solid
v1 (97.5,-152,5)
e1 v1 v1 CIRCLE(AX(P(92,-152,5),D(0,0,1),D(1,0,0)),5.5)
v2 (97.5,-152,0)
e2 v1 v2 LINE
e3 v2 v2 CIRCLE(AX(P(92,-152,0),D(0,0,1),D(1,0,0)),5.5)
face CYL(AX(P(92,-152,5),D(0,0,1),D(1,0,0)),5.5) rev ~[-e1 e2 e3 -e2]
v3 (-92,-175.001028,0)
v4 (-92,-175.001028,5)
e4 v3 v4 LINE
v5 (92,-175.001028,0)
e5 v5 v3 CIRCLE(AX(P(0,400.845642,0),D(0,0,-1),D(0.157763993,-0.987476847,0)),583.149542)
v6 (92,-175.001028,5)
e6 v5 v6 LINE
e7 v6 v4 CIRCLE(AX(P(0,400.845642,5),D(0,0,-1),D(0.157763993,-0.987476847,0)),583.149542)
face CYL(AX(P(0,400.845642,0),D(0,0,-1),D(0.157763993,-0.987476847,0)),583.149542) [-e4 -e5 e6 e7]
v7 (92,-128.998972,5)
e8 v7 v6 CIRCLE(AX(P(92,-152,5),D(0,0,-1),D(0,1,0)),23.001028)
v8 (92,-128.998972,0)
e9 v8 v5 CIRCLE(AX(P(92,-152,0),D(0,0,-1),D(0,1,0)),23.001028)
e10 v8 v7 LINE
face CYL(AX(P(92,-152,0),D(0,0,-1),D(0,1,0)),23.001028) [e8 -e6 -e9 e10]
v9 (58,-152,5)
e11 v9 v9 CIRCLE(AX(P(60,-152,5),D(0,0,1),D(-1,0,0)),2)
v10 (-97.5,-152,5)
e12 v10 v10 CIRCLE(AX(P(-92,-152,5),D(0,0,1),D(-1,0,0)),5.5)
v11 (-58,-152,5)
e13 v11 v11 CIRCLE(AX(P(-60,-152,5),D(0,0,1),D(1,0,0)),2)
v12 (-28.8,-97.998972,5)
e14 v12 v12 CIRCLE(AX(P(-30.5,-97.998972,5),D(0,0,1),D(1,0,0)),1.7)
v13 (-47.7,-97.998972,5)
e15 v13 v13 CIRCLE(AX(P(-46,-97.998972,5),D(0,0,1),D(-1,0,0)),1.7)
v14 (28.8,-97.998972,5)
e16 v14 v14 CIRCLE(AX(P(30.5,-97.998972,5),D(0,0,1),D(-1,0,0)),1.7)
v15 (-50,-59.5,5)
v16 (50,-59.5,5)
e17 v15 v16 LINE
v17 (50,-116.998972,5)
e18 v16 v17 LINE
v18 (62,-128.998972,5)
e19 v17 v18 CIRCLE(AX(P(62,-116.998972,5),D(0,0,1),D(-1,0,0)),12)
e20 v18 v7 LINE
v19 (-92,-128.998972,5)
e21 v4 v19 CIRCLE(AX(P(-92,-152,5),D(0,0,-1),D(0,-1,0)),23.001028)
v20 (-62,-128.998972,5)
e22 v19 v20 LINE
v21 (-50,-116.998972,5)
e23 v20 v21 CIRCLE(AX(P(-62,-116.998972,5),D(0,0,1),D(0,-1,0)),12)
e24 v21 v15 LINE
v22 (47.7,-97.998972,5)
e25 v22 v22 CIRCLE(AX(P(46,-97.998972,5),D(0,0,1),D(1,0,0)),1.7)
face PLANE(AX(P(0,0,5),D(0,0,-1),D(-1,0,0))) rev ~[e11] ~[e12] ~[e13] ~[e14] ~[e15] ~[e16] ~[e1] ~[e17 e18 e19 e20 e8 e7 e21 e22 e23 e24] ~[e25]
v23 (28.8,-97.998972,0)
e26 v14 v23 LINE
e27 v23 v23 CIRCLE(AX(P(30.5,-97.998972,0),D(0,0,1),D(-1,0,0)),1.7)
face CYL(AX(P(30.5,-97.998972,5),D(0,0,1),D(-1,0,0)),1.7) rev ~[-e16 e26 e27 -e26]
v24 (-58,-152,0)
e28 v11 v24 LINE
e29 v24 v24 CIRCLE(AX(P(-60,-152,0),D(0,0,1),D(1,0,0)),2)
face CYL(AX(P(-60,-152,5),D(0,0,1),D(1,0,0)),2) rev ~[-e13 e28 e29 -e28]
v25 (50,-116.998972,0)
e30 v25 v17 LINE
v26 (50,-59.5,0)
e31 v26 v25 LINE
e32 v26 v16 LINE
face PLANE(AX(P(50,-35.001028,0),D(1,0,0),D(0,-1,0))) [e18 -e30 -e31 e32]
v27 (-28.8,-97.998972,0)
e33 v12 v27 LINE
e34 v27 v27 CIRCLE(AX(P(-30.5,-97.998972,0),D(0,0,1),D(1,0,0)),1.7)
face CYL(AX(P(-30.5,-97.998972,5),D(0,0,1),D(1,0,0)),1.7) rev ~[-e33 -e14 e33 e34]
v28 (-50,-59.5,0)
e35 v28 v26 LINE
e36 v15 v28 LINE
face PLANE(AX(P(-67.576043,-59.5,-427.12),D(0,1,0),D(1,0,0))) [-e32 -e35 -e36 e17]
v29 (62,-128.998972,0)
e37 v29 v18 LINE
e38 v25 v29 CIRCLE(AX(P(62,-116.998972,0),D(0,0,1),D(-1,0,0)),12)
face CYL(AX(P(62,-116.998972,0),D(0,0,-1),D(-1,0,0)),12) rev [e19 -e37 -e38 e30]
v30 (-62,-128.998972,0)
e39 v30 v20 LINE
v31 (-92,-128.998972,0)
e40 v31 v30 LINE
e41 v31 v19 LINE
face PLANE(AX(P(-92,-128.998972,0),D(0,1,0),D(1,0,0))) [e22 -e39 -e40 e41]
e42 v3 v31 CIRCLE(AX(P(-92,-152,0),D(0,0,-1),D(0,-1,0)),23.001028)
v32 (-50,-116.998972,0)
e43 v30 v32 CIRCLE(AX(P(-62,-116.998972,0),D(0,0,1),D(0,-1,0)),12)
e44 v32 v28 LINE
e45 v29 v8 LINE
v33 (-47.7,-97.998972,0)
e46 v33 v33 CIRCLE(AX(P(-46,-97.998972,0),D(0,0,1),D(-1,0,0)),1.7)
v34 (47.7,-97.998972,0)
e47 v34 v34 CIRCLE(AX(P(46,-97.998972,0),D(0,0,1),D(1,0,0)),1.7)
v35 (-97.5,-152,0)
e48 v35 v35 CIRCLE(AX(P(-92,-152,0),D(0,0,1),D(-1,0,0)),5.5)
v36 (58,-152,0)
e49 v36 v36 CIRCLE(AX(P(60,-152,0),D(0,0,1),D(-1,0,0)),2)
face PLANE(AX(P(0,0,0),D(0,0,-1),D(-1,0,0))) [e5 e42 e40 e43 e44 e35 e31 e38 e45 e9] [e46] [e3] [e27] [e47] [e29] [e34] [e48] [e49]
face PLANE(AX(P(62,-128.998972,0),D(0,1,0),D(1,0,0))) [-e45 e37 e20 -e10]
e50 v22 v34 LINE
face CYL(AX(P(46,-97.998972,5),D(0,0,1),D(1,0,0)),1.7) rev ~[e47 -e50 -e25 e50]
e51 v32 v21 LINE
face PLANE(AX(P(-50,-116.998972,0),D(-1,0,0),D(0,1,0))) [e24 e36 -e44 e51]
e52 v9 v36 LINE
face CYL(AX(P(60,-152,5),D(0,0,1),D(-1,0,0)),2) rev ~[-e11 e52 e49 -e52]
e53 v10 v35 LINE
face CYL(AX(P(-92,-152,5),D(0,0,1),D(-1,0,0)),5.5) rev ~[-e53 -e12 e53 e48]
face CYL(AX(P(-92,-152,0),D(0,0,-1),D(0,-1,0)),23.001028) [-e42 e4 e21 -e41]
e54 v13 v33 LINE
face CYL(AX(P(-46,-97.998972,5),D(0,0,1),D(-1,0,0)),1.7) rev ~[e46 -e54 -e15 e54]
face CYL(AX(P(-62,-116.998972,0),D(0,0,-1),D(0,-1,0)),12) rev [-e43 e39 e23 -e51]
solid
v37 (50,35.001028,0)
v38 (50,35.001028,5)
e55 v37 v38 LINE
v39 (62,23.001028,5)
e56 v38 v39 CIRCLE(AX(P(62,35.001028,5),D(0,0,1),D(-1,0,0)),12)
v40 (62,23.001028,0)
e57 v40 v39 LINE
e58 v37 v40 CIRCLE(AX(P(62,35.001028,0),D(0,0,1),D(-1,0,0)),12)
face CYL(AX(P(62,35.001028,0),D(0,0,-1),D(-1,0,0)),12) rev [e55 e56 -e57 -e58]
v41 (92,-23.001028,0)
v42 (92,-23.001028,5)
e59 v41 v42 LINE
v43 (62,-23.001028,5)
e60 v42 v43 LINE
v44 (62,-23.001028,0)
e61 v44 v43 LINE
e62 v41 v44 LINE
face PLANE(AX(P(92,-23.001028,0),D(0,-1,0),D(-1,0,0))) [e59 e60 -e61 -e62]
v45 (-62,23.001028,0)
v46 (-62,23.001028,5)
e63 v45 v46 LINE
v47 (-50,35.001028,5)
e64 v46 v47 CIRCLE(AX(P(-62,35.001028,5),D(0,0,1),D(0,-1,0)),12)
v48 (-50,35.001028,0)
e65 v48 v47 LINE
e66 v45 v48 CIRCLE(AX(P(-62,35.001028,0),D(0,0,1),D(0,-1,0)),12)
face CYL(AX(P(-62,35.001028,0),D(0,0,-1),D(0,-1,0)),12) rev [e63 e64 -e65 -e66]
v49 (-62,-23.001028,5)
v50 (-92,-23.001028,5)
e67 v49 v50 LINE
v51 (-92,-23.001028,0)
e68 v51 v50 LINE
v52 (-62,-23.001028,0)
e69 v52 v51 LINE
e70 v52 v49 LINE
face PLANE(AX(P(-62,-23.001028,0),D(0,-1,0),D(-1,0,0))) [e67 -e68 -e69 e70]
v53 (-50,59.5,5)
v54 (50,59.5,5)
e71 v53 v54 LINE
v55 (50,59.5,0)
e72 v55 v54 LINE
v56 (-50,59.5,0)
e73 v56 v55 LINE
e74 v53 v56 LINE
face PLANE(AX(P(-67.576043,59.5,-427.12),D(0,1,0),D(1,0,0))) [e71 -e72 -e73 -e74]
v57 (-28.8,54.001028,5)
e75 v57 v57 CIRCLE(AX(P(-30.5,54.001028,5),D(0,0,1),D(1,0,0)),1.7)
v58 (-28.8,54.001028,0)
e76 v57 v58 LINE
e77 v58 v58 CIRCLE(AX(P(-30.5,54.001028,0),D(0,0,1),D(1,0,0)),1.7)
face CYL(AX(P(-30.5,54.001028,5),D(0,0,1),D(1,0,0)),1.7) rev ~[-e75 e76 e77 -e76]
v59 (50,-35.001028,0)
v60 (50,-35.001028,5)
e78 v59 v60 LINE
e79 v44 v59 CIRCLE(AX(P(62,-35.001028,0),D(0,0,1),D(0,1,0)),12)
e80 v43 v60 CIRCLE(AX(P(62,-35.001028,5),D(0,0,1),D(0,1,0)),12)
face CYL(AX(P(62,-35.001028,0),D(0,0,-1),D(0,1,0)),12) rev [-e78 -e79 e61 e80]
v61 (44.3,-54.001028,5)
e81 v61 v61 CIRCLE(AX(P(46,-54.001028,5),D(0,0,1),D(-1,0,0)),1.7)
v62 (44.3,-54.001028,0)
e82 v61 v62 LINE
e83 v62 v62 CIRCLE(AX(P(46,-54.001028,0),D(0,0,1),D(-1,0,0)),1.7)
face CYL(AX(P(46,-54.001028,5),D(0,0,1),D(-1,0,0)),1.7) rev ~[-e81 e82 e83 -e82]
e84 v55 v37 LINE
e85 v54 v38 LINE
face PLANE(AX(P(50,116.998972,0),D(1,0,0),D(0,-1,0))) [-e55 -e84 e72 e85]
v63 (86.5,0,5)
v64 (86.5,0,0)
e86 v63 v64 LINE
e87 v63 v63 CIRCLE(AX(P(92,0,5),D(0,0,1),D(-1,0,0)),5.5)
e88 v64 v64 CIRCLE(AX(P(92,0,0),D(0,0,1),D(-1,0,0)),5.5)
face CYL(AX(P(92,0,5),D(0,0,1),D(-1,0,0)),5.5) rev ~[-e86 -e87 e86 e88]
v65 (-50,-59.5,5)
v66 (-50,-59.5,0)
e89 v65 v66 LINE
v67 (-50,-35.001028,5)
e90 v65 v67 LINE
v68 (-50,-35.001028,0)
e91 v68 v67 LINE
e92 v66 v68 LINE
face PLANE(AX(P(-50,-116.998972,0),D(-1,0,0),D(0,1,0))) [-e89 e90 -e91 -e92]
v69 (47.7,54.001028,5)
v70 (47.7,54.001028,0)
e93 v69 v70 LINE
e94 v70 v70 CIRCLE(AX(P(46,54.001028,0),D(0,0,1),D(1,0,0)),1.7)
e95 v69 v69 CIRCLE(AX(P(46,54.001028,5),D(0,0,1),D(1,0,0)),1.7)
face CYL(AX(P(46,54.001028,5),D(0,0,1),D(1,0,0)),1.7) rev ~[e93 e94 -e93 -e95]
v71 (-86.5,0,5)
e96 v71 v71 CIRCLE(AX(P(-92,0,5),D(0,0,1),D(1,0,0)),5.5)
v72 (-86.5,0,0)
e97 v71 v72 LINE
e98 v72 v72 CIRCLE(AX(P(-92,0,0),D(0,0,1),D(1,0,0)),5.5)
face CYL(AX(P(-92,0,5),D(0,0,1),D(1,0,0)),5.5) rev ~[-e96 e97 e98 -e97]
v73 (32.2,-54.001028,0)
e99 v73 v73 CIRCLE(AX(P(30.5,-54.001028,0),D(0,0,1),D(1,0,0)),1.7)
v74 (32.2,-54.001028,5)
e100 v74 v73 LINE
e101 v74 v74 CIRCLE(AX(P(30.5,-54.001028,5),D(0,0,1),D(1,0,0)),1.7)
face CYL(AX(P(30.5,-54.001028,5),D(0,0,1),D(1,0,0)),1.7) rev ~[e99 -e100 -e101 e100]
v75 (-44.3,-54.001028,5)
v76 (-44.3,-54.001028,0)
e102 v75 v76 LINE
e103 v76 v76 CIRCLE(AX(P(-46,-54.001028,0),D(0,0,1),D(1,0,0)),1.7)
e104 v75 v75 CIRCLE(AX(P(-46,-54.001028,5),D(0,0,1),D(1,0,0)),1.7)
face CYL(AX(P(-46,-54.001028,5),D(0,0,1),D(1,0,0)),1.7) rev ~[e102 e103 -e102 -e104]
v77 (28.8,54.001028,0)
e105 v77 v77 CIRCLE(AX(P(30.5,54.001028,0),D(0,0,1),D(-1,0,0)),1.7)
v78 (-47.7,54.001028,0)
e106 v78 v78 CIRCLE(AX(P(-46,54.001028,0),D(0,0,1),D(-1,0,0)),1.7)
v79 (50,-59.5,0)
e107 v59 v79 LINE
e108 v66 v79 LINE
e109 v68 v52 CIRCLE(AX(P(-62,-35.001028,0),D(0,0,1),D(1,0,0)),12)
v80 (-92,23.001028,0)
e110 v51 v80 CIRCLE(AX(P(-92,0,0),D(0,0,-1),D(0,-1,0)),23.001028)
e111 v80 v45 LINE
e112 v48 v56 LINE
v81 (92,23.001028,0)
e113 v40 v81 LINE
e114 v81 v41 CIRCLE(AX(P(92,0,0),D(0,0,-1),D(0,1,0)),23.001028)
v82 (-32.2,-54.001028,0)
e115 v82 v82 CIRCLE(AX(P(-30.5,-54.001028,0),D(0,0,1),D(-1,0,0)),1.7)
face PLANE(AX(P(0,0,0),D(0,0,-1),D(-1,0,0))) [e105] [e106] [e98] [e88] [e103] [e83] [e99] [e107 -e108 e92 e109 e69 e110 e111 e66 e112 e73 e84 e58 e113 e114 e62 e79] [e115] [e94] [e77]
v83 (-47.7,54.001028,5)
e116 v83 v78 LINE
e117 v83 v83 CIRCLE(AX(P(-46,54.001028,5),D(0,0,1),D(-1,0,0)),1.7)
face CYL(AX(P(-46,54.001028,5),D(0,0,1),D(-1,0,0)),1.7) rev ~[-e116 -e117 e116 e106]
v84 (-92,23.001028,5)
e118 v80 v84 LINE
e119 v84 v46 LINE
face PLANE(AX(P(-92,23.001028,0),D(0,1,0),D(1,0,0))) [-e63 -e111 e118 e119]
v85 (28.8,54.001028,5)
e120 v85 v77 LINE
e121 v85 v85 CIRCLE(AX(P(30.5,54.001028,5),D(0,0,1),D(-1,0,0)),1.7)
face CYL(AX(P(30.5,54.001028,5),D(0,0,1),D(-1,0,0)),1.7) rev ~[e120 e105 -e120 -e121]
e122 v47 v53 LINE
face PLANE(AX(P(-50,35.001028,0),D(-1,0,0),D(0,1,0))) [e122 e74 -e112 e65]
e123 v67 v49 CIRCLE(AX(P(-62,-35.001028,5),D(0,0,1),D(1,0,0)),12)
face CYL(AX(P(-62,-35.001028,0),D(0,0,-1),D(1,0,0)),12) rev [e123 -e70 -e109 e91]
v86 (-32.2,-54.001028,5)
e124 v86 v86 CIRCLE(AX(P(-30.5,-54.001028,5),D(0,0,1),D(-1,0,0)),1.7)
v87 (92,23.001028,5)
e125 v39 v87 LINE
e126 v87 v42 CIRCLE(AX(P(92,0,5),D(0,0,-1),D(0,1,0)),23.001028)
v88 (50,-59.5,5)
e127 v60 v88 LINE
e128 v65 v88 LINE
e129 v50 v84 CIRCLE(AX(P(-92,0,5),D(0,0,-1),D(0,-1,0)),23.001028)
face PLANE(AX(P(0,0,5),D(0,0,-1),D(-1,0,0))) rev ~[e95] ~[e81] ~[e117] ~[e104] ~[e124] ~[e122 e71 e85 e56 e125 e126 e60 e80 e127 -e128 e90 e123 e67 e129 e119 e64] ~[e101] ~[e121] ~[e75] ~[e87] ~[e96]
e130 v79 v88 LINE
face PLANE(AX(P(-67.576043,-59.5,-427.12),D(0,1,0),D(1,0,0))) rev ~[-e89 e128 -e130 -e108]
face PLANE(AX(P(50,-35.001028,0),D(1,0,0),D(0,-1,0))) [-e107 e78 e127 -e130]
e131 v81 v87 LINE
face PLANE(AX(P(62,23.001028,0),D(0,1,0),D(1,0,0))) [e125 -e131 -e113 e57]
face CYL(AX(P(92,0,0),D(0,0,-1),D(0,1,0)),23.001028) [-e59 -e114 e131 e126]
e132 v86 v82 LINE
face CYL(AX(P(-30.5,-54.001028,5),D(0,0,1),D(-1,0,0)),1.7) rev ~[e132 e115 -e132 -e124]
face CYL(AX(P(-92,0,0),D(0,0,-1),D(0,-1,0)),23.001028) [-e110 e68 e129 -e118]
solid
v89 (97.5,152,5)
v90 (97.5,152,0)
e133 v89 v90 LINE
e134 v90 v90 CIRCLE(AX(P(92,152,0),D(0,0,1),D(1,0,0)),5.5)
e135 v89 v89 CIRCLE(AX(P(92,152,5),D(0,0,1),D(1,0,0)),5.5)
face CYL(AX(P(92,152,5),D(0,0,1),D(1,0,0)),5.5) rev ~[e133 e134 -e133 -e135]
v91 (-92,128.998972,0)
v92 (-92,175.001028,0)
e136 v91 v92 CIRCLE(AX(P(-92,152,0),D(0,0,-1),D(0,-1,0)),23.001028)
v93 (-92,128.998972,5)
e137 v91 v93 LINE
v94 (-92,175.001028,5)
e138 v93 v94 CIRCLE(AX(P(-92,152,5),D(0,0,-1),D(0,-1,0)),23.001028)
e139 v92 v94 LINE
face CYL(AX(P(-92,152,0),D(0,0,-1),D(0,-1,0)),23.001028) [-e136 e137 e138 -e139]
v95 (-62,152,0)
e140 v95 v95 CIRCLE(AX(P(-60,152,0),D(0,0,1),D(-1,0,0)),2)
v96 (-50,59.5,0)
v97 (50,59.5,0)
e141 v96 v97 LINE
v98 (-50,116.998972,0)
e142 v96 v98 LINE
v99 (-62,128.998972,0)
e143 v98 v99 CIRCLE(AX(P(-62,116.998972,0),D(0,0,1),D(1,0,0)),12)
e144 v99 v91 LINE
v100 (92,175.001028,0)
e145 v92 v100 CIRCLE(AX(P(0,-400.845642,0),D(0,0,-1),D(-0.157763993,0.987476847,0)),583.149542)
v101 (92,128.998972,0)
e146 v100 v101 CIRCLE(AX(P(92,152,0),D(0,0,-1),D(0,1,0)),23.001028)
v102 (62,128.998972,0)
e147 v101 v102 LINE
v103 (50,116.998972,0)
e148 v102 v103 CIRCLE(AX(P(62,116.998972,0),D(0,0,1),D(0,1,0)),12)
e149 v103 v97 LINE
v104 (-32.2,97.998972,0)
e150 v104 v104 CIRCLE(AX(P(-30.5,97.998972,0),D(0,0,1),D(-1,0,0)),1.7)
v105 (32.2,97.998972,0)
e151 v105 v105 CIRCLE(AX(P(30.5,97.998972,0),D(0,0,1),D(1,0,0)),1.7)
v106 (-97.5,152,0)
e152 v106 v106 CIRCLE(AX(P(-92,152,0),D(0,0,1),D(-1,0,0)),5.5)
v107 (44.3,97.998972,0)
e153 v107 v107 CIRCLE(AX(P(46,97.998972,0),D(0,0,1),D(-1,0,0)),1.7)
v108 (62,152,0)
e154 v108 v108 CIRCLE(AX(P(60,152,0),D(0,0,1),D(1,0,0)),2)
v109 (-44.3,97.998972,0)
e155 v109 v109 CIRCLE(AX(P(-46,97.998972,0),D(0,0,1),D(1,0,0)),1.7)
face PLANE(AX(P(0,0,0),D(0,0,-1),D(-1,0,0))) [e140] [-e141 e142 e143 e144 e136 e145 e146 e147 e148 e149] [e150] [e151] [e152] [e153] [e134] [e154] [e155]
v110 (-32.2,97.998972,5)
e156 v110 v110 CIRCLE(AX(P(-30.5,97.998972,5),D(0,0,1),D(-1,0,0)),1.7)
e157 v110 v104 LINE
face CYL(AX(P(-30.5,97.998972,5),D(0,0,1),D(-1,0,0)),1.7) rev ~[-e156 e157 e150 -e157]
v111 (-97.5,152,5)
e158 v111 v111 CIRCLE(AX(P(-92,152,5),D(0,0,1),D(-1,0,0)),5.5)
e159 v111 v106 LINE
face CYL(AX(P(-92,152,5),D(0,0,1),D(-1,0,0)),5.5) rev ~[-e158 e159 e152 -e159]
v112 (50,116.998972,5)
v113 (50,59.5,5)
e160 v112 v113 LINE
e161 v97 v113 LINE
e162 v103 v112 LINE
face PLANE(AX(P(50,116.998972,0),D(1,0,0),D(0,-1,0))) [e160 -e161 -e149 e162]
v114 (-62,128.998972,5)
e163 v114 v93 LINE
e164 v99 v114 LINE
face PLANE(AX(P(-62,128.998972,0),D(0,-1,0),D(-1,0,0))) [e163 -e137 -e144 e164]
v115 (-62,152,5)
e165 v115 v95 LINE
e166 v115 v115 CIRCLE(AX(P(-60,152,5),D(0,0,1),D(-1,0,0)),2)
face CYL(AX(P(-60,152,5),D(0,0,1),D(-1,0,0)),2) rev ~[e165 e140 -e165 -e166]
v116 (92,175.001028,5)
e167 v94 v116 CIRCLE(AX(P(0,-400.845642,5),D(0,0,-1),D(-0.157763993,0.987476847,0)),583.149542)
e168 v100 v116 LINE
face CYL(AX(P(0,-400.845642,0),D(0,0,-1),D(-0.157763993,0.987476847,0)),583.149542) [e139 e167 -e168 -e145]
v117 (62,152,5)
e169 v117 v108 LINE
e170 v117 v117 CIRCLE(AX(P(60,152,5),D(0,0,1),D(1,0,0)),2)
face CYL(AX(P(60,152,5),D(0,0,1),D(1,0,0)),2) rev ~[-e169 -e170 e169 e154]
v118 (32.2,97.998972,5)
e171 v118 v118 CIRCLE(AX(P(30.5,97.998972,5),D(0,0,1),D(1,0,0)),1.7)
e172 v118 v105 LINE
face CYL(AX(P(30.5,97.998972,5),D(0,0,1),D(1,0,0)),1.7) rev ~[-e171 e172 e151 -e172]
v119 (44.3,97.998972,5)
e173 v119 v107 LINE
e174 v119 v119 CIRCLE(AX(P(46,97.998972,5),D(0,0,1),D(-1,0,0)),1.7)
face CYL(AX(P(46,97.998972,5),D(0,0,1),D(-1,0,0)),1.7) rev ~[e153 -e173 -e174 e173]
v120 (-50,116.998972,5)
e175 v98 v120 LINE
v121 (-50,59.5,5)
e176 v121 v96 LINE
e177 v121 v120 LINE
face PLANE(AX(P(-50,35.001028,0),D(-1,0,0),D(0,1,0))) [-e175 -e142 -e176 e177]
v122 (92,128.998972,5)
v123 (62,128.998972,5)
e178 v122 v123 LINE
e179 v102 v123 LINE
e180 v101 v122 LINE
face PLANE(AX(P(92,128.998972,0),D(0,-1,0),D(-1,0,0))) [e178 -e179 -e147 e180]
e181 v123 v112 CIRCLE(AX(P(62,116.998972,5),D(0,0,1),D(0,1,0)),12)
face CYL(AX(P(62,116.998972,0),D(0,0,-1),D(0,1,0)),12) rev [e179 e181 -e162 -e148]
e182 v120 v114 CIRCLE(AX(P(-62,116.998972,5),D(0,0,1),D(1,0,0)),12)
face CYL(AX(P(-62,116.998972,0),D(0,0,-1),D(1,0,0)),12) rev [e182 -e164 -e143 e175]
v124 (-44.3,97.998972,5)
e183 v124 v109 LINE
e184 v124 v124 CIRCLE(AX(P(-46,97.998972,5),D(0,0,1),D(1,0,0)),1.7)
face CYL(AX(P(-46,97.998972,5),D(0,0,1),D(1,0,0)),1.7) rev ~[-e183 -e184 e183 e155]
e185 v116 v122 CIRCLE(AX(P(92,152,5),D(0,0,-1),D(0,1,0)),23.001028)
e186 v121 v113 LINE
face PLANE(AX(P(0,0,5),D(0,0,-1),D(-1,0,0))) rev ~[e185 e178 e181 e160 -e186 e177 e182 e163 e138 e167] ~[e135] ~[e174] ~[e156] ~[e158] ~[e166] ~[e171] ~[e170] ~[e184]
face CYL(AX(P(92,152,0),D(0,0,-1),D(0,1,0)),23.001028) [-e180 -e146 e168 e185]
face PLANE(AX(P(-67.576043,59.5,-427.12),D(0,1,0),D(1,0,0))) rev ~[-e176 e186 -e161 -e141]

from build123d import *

# Parameters (mm, degrees)
DODANIE_WYCI_GNI_CIE1_DEPTH = 5
SZKIC3_R                    = 5.5
WYTNIJ_WYCI_GNI_CIE1_DEPTH  = 216.603683599
SZKIC5_R                    = 1.7
SZKIC5_R_2                  = 2
WYTNIJ_WYCI_GNI_CIE2_DEPTH  = 216.603683599
PODZIEL1_SURFACE_1_1_BACK   = 432.12
PODZIEL1_SURFACE_1_1_DEPTH  = 864.24
PODZIEL1_SURFACE_1_2_BACK   = 432.12
PODZIEL1_SURFACE_1_2_DEPTH  = 864.24
PODZIEL1_SURFACE_2_3_BACK   = 432.12
PODZIEL1_SURFACE_2_3_DEPTH  = 864.24
PODZIEL1_SURFACE_2_4_BACK   = 432.12
PODZIEL1_SURFACE_2_4_DEPTH  = 864.24


with BuildPart() as part:
    # Szkic1 → Dodanie-wyciągnięcie1 (new body)
    with BuildSketch(Plane.XY):
        with BuildLine():
            Line((-50, -116.998971504), (-50, -35.001028496))
            ThreePointArc((-50, -35.001028496), (-53.514718626, -26.515747122), (-62, -23.001028496))
            Line((-62, -23.001028496), (-92, -23.001028496))
            ThreePointArc((-92, -23.001028496), (-115.001028496, 0), (-92, 23.001028496))
            Line((-92, 23.001028496), (-62, 23.001028496))
            ThreePointArc((-62, 23.001028496), (-53.514718626, 26.515747122), (-50, 35.001028496))
            Line((-50, 35.001028496), (-50, 116.998971504))
            ThreePointArc((-50, 116.998971504), (-53.514718626, 125.484252878), (-62, 128.998971504))
            Line((-62, 128.998971504), (-92, 128.998971504))
            ThreePointArc((-92, 128.998971504), (-115.001028496, 152), (-92, 175.001028496))
            ThreePointArc((-92, 175.001028496), (0, 182.303899646), (92, 175.001028496))
            ThreePointArc((92, 175.001028496), (115.001028496, 152), (92, 128.998971504))
            Line((92, 128.998971504), (62, 128.998971504))
            ThreePointArc((62, 128.998971504), (53.514718626, 125.484252878), (50, 116.998971504))
            Line((50, 116.998971504), (50, 35.001028496))
            ThreePointArc((50, 35.001028496), (53.514718626, 26.515747122), (62, 23.001028496))
            Line((62, 23.001028496), (92, 23.001028496))
            ThreePointArc((92, 23.001028496), (115.001028496, 0), (92, -23.001028496))
            Line((92, -23.001028496), (62, -23.001028496))
            ThreePointArc((62, -23.001028496), (53.514718626, -26.515747122), (50, -35.001028496))
            Line((50, -35.001028496), (50, -116.998971504))
            ThreePointArc((50, -116.998971504), (53.514718626, -125.484252878), (62, -128.998971504))
            Line((62, -128.998971504), (92, -128.998971504))
            ThreePointArc((92, -128.998971504), (115.001028496, -152), (92, -175.001028496))
            ThreePointArc((92, -175.001028496), (0, -182.303899646), (-92, -175.001028496))
            ThreePointArc((-92, -175.001028496), (-115.001028496, -152), (-92, -128.998971504))
            Line((-92, -128.998971504), (-62, -128.998971504))
            ThreePointArc((-62, -128.998971504), (-53.514718626, -125.484252878), (-50, -116.998971504))
        make_face()
    extrude(amount=DODANIE_WYCI_GNI_CIE1_DEPTH)

    # Szkic3 → Wytnij-wyciągnięcie1 (cut, through all)
    with BuildSketch(Plane.XY.offset(5)):
        with Locations(Location((92, 0, 0), (0, 0, 180))):
            Circle(SZKIC3_R)
        with Locations((-92, 0)):
            Circle(SZKIC3_R)
        with Locations((92, 152)):
            Circle(SZKIC3_R)
        with Locations(Location((-92, 152, 0), (0, 0, 180))):
            Circle(SZKIC3_R)
        with Locations((92, -152)):
            Circle(SZKIC3_R)
        with Locations(Location((-92, -152, 0), (0, 0, 180))):
            Circle(SZKIC3_R)
    extrude(amount=-WYTNIJ_WYCI_GNI_CIE1_DEPTH, mode=Mode.SUBTRACT)

    # Szkic5 → Wytnij-wyciągnięcie2 (cut, through all)
    with BuildSketch(Plane.XY.offset(5)):
        with Locations(Location((-46, 54.001028496, 0), (0, 0, 180))):
            Circle(SZKIC5_R)
        with Locations((-60, -152)):
            Circle(SZKIC5_R_2)
        with Locations(Location((60, -152, 0), (0, 0, 180))):
            Circle(SZKIC5_R_2)
        with Locations((60, 152)):
            Circle(SZKIC5_R_2)
        with Locations(Location((-60, 152, 0), (0, 0, 180))):
            Circle(SZKIC5_R_2)
        with Locations((-46, 97.998971504)):
            Circle(SZKIC5_R)
        with Locations(Location((-30.5, 97.998971504, 0), (0, 0, 180))):
            Circle(SZKIC5_R)
        with Locations((-30.5, 54.001028496)):
            Circle(SZKIC5_R)
        with Locations((46, 54.001028496)):
            Circle(SZKIC5_R)
        with Locations(Location((30.5, 54.001028496, 0), (0, 0, 180))):
            Circle(SZKIC5_R)
        with Locations(Location((46, 97.998971504, 0), (0, 0, 180))):
            Circle(SZKIC5_R)
        with Locations((30.5, 97.998971504)):
            Circle(SZKIC5_R)
        with Locations(Location((-30.5, -54.001028496, 0), (0, 0, 180))):
            Circle(SZKIC5_R)
        with Locations((-30.5, -97.998971504)):
            Circle(SZKIC5_R)
        with Locations(Location((-46, -97.998971504, 0), (0, 0, 180))):
            Circle(SZKIC5_R)
        with Locations((-46, -54.001028496)):
            Circle(SZKIC5_R)
        with Locations(Location((30.5, -97.998971504, 0), (0, 0, 180))):
            Circle(SZKIC5_R)
        with Locations((46, -97.998971504)):
            Circle(SZKIC5_R)
        with Locations((30.5, -54.001028496)):
            Circle(SZKIC5_R)
        with Locations(Location((46, -54.001028496, 0), (0, 0, 180))):
            Circle(SZKIC5_R)
    extrude(amount=-WYTNIJ_WYCI_GNI_CIE2_DEPTH, mode=Mode.SUBTRACT)


with BuildPart() as body_2:
    # Podziel1: the piece behind the surface
    add(part.part)
    # Podziel1 surface 1: a surface, the sketch's curves swept straight by 864.24 mm
    with BuildLine(Plane.XY.offset(5).offset(-PODZIEL1_SURFACE_1_1_BACK), mode=Mode.PRIVATE) as podziel1_surface_1_1_path:
        Line((-67.576042678, 59.5), (69.029290908, 59.5))
    podziel1_surface_1_1 = Shell.extrude(podziel1_surface_1_1_path.wire(), (0 * PODZIEL1_SURFACE_1_1_DEPTH, 0 * PODZIEL1_SURFACE_1_1_DEPTH, 1 * PODZIEL1_SURFACE_1_1_DEPTH))
    split(bisect_by=podziel1_surface_1_1, keep=Keep.BOTTOM)


with BuildPart() as part_1:
    add(part.part)

    # Podziel1: split by a surface, the side it looks to stays
    # Podziel1 surface 1: a surface, the sketch's curves swept straight by 864.24 mm
    with BuildLine(Plane.XY.offset(5).offset(-PODZIEL1_SURFACE_1_2_BACK), mode=Mode.PRIVATE) as podziel1_surface_1_2_path:
        Line((-67.576042678, 59.5), (69.029290908, 59.5))
    podziel1_surface_1_2 = Shell.extrude(podziel1_surface_1_2_path.wire(), (0 * PODZIEL1_SURFACE_1_2_DEPTH, 0 * PODZIEL1_SURFACE_1_2_DEPTH, 1 * PODZIEL1_SURFACE_1_2_DEPTH))
    split(bisect_by=podziel1_surface_1_2, keep=Keep.TOP)


with BuildPart() as body_3:
    # Podziel1 2 body 2: the piece behind the surface
    add(body_2.part)
    # Podziel1 surface 2: a surface, the sketch's curves swept straight by 864.24 mm
    with BuildLine(Plane.XY.offset(5).offset(-PODZIEL1_SURFACE_2_3_BACK), mode=Mode.PRIVATE) as podziel1_surface_2_3_path:
        Line((-67.576042678, -59.5), (69.029290908, -59.5))
    podziel1_surface_2_3 = Shell.extrude(podziel1_surface_2_3_path.wire(), (0 * PODZIEL1_SURFACE_2_3_DEPTH, 0 * PODZIEL1_SURFACE_2_3_DEPTH, 1 * PODZIEL1_SURFACE_2_3_DEPTH))
    split(bisect_by=podziel1_surface_2_3, keep=Keep.BOTTOM)


with BuildPart() as body_2_1:
    add(body_2.part)

    # Podziel1 2 body 2: split by a surface, the side it looks to stays
    # Podziel1 surface 2: a surface, the sketch's curves swept straight by 864.24 mm
    with BuildLine(Plane.XY.offset(5).offset(-PODZIEL1_SURFACE_2_4_BACK), mode=Mode.PRIVATE) as podziel1_surface_2_4_path:
        Line((-67.576042678, -59.5), (69.029290908, -59.5))
    podziel1_surface_2_4 = Shell.extrude(podziel1_surface_2_4_path.wire(), (0 * PODZIEL1_SURFACE_2_4_DEPTH, 0 * PODZIEL1_SURFACE_2_4_DEPTH, 1 * PODZIEL1_SURFACE_2_4_DEPTH))
    split(bisect_by=podziel1_surface_2_4, keep=Keep.TOP)


solid = Compound([part_1.part, body_3.part, body_2_1.part])
